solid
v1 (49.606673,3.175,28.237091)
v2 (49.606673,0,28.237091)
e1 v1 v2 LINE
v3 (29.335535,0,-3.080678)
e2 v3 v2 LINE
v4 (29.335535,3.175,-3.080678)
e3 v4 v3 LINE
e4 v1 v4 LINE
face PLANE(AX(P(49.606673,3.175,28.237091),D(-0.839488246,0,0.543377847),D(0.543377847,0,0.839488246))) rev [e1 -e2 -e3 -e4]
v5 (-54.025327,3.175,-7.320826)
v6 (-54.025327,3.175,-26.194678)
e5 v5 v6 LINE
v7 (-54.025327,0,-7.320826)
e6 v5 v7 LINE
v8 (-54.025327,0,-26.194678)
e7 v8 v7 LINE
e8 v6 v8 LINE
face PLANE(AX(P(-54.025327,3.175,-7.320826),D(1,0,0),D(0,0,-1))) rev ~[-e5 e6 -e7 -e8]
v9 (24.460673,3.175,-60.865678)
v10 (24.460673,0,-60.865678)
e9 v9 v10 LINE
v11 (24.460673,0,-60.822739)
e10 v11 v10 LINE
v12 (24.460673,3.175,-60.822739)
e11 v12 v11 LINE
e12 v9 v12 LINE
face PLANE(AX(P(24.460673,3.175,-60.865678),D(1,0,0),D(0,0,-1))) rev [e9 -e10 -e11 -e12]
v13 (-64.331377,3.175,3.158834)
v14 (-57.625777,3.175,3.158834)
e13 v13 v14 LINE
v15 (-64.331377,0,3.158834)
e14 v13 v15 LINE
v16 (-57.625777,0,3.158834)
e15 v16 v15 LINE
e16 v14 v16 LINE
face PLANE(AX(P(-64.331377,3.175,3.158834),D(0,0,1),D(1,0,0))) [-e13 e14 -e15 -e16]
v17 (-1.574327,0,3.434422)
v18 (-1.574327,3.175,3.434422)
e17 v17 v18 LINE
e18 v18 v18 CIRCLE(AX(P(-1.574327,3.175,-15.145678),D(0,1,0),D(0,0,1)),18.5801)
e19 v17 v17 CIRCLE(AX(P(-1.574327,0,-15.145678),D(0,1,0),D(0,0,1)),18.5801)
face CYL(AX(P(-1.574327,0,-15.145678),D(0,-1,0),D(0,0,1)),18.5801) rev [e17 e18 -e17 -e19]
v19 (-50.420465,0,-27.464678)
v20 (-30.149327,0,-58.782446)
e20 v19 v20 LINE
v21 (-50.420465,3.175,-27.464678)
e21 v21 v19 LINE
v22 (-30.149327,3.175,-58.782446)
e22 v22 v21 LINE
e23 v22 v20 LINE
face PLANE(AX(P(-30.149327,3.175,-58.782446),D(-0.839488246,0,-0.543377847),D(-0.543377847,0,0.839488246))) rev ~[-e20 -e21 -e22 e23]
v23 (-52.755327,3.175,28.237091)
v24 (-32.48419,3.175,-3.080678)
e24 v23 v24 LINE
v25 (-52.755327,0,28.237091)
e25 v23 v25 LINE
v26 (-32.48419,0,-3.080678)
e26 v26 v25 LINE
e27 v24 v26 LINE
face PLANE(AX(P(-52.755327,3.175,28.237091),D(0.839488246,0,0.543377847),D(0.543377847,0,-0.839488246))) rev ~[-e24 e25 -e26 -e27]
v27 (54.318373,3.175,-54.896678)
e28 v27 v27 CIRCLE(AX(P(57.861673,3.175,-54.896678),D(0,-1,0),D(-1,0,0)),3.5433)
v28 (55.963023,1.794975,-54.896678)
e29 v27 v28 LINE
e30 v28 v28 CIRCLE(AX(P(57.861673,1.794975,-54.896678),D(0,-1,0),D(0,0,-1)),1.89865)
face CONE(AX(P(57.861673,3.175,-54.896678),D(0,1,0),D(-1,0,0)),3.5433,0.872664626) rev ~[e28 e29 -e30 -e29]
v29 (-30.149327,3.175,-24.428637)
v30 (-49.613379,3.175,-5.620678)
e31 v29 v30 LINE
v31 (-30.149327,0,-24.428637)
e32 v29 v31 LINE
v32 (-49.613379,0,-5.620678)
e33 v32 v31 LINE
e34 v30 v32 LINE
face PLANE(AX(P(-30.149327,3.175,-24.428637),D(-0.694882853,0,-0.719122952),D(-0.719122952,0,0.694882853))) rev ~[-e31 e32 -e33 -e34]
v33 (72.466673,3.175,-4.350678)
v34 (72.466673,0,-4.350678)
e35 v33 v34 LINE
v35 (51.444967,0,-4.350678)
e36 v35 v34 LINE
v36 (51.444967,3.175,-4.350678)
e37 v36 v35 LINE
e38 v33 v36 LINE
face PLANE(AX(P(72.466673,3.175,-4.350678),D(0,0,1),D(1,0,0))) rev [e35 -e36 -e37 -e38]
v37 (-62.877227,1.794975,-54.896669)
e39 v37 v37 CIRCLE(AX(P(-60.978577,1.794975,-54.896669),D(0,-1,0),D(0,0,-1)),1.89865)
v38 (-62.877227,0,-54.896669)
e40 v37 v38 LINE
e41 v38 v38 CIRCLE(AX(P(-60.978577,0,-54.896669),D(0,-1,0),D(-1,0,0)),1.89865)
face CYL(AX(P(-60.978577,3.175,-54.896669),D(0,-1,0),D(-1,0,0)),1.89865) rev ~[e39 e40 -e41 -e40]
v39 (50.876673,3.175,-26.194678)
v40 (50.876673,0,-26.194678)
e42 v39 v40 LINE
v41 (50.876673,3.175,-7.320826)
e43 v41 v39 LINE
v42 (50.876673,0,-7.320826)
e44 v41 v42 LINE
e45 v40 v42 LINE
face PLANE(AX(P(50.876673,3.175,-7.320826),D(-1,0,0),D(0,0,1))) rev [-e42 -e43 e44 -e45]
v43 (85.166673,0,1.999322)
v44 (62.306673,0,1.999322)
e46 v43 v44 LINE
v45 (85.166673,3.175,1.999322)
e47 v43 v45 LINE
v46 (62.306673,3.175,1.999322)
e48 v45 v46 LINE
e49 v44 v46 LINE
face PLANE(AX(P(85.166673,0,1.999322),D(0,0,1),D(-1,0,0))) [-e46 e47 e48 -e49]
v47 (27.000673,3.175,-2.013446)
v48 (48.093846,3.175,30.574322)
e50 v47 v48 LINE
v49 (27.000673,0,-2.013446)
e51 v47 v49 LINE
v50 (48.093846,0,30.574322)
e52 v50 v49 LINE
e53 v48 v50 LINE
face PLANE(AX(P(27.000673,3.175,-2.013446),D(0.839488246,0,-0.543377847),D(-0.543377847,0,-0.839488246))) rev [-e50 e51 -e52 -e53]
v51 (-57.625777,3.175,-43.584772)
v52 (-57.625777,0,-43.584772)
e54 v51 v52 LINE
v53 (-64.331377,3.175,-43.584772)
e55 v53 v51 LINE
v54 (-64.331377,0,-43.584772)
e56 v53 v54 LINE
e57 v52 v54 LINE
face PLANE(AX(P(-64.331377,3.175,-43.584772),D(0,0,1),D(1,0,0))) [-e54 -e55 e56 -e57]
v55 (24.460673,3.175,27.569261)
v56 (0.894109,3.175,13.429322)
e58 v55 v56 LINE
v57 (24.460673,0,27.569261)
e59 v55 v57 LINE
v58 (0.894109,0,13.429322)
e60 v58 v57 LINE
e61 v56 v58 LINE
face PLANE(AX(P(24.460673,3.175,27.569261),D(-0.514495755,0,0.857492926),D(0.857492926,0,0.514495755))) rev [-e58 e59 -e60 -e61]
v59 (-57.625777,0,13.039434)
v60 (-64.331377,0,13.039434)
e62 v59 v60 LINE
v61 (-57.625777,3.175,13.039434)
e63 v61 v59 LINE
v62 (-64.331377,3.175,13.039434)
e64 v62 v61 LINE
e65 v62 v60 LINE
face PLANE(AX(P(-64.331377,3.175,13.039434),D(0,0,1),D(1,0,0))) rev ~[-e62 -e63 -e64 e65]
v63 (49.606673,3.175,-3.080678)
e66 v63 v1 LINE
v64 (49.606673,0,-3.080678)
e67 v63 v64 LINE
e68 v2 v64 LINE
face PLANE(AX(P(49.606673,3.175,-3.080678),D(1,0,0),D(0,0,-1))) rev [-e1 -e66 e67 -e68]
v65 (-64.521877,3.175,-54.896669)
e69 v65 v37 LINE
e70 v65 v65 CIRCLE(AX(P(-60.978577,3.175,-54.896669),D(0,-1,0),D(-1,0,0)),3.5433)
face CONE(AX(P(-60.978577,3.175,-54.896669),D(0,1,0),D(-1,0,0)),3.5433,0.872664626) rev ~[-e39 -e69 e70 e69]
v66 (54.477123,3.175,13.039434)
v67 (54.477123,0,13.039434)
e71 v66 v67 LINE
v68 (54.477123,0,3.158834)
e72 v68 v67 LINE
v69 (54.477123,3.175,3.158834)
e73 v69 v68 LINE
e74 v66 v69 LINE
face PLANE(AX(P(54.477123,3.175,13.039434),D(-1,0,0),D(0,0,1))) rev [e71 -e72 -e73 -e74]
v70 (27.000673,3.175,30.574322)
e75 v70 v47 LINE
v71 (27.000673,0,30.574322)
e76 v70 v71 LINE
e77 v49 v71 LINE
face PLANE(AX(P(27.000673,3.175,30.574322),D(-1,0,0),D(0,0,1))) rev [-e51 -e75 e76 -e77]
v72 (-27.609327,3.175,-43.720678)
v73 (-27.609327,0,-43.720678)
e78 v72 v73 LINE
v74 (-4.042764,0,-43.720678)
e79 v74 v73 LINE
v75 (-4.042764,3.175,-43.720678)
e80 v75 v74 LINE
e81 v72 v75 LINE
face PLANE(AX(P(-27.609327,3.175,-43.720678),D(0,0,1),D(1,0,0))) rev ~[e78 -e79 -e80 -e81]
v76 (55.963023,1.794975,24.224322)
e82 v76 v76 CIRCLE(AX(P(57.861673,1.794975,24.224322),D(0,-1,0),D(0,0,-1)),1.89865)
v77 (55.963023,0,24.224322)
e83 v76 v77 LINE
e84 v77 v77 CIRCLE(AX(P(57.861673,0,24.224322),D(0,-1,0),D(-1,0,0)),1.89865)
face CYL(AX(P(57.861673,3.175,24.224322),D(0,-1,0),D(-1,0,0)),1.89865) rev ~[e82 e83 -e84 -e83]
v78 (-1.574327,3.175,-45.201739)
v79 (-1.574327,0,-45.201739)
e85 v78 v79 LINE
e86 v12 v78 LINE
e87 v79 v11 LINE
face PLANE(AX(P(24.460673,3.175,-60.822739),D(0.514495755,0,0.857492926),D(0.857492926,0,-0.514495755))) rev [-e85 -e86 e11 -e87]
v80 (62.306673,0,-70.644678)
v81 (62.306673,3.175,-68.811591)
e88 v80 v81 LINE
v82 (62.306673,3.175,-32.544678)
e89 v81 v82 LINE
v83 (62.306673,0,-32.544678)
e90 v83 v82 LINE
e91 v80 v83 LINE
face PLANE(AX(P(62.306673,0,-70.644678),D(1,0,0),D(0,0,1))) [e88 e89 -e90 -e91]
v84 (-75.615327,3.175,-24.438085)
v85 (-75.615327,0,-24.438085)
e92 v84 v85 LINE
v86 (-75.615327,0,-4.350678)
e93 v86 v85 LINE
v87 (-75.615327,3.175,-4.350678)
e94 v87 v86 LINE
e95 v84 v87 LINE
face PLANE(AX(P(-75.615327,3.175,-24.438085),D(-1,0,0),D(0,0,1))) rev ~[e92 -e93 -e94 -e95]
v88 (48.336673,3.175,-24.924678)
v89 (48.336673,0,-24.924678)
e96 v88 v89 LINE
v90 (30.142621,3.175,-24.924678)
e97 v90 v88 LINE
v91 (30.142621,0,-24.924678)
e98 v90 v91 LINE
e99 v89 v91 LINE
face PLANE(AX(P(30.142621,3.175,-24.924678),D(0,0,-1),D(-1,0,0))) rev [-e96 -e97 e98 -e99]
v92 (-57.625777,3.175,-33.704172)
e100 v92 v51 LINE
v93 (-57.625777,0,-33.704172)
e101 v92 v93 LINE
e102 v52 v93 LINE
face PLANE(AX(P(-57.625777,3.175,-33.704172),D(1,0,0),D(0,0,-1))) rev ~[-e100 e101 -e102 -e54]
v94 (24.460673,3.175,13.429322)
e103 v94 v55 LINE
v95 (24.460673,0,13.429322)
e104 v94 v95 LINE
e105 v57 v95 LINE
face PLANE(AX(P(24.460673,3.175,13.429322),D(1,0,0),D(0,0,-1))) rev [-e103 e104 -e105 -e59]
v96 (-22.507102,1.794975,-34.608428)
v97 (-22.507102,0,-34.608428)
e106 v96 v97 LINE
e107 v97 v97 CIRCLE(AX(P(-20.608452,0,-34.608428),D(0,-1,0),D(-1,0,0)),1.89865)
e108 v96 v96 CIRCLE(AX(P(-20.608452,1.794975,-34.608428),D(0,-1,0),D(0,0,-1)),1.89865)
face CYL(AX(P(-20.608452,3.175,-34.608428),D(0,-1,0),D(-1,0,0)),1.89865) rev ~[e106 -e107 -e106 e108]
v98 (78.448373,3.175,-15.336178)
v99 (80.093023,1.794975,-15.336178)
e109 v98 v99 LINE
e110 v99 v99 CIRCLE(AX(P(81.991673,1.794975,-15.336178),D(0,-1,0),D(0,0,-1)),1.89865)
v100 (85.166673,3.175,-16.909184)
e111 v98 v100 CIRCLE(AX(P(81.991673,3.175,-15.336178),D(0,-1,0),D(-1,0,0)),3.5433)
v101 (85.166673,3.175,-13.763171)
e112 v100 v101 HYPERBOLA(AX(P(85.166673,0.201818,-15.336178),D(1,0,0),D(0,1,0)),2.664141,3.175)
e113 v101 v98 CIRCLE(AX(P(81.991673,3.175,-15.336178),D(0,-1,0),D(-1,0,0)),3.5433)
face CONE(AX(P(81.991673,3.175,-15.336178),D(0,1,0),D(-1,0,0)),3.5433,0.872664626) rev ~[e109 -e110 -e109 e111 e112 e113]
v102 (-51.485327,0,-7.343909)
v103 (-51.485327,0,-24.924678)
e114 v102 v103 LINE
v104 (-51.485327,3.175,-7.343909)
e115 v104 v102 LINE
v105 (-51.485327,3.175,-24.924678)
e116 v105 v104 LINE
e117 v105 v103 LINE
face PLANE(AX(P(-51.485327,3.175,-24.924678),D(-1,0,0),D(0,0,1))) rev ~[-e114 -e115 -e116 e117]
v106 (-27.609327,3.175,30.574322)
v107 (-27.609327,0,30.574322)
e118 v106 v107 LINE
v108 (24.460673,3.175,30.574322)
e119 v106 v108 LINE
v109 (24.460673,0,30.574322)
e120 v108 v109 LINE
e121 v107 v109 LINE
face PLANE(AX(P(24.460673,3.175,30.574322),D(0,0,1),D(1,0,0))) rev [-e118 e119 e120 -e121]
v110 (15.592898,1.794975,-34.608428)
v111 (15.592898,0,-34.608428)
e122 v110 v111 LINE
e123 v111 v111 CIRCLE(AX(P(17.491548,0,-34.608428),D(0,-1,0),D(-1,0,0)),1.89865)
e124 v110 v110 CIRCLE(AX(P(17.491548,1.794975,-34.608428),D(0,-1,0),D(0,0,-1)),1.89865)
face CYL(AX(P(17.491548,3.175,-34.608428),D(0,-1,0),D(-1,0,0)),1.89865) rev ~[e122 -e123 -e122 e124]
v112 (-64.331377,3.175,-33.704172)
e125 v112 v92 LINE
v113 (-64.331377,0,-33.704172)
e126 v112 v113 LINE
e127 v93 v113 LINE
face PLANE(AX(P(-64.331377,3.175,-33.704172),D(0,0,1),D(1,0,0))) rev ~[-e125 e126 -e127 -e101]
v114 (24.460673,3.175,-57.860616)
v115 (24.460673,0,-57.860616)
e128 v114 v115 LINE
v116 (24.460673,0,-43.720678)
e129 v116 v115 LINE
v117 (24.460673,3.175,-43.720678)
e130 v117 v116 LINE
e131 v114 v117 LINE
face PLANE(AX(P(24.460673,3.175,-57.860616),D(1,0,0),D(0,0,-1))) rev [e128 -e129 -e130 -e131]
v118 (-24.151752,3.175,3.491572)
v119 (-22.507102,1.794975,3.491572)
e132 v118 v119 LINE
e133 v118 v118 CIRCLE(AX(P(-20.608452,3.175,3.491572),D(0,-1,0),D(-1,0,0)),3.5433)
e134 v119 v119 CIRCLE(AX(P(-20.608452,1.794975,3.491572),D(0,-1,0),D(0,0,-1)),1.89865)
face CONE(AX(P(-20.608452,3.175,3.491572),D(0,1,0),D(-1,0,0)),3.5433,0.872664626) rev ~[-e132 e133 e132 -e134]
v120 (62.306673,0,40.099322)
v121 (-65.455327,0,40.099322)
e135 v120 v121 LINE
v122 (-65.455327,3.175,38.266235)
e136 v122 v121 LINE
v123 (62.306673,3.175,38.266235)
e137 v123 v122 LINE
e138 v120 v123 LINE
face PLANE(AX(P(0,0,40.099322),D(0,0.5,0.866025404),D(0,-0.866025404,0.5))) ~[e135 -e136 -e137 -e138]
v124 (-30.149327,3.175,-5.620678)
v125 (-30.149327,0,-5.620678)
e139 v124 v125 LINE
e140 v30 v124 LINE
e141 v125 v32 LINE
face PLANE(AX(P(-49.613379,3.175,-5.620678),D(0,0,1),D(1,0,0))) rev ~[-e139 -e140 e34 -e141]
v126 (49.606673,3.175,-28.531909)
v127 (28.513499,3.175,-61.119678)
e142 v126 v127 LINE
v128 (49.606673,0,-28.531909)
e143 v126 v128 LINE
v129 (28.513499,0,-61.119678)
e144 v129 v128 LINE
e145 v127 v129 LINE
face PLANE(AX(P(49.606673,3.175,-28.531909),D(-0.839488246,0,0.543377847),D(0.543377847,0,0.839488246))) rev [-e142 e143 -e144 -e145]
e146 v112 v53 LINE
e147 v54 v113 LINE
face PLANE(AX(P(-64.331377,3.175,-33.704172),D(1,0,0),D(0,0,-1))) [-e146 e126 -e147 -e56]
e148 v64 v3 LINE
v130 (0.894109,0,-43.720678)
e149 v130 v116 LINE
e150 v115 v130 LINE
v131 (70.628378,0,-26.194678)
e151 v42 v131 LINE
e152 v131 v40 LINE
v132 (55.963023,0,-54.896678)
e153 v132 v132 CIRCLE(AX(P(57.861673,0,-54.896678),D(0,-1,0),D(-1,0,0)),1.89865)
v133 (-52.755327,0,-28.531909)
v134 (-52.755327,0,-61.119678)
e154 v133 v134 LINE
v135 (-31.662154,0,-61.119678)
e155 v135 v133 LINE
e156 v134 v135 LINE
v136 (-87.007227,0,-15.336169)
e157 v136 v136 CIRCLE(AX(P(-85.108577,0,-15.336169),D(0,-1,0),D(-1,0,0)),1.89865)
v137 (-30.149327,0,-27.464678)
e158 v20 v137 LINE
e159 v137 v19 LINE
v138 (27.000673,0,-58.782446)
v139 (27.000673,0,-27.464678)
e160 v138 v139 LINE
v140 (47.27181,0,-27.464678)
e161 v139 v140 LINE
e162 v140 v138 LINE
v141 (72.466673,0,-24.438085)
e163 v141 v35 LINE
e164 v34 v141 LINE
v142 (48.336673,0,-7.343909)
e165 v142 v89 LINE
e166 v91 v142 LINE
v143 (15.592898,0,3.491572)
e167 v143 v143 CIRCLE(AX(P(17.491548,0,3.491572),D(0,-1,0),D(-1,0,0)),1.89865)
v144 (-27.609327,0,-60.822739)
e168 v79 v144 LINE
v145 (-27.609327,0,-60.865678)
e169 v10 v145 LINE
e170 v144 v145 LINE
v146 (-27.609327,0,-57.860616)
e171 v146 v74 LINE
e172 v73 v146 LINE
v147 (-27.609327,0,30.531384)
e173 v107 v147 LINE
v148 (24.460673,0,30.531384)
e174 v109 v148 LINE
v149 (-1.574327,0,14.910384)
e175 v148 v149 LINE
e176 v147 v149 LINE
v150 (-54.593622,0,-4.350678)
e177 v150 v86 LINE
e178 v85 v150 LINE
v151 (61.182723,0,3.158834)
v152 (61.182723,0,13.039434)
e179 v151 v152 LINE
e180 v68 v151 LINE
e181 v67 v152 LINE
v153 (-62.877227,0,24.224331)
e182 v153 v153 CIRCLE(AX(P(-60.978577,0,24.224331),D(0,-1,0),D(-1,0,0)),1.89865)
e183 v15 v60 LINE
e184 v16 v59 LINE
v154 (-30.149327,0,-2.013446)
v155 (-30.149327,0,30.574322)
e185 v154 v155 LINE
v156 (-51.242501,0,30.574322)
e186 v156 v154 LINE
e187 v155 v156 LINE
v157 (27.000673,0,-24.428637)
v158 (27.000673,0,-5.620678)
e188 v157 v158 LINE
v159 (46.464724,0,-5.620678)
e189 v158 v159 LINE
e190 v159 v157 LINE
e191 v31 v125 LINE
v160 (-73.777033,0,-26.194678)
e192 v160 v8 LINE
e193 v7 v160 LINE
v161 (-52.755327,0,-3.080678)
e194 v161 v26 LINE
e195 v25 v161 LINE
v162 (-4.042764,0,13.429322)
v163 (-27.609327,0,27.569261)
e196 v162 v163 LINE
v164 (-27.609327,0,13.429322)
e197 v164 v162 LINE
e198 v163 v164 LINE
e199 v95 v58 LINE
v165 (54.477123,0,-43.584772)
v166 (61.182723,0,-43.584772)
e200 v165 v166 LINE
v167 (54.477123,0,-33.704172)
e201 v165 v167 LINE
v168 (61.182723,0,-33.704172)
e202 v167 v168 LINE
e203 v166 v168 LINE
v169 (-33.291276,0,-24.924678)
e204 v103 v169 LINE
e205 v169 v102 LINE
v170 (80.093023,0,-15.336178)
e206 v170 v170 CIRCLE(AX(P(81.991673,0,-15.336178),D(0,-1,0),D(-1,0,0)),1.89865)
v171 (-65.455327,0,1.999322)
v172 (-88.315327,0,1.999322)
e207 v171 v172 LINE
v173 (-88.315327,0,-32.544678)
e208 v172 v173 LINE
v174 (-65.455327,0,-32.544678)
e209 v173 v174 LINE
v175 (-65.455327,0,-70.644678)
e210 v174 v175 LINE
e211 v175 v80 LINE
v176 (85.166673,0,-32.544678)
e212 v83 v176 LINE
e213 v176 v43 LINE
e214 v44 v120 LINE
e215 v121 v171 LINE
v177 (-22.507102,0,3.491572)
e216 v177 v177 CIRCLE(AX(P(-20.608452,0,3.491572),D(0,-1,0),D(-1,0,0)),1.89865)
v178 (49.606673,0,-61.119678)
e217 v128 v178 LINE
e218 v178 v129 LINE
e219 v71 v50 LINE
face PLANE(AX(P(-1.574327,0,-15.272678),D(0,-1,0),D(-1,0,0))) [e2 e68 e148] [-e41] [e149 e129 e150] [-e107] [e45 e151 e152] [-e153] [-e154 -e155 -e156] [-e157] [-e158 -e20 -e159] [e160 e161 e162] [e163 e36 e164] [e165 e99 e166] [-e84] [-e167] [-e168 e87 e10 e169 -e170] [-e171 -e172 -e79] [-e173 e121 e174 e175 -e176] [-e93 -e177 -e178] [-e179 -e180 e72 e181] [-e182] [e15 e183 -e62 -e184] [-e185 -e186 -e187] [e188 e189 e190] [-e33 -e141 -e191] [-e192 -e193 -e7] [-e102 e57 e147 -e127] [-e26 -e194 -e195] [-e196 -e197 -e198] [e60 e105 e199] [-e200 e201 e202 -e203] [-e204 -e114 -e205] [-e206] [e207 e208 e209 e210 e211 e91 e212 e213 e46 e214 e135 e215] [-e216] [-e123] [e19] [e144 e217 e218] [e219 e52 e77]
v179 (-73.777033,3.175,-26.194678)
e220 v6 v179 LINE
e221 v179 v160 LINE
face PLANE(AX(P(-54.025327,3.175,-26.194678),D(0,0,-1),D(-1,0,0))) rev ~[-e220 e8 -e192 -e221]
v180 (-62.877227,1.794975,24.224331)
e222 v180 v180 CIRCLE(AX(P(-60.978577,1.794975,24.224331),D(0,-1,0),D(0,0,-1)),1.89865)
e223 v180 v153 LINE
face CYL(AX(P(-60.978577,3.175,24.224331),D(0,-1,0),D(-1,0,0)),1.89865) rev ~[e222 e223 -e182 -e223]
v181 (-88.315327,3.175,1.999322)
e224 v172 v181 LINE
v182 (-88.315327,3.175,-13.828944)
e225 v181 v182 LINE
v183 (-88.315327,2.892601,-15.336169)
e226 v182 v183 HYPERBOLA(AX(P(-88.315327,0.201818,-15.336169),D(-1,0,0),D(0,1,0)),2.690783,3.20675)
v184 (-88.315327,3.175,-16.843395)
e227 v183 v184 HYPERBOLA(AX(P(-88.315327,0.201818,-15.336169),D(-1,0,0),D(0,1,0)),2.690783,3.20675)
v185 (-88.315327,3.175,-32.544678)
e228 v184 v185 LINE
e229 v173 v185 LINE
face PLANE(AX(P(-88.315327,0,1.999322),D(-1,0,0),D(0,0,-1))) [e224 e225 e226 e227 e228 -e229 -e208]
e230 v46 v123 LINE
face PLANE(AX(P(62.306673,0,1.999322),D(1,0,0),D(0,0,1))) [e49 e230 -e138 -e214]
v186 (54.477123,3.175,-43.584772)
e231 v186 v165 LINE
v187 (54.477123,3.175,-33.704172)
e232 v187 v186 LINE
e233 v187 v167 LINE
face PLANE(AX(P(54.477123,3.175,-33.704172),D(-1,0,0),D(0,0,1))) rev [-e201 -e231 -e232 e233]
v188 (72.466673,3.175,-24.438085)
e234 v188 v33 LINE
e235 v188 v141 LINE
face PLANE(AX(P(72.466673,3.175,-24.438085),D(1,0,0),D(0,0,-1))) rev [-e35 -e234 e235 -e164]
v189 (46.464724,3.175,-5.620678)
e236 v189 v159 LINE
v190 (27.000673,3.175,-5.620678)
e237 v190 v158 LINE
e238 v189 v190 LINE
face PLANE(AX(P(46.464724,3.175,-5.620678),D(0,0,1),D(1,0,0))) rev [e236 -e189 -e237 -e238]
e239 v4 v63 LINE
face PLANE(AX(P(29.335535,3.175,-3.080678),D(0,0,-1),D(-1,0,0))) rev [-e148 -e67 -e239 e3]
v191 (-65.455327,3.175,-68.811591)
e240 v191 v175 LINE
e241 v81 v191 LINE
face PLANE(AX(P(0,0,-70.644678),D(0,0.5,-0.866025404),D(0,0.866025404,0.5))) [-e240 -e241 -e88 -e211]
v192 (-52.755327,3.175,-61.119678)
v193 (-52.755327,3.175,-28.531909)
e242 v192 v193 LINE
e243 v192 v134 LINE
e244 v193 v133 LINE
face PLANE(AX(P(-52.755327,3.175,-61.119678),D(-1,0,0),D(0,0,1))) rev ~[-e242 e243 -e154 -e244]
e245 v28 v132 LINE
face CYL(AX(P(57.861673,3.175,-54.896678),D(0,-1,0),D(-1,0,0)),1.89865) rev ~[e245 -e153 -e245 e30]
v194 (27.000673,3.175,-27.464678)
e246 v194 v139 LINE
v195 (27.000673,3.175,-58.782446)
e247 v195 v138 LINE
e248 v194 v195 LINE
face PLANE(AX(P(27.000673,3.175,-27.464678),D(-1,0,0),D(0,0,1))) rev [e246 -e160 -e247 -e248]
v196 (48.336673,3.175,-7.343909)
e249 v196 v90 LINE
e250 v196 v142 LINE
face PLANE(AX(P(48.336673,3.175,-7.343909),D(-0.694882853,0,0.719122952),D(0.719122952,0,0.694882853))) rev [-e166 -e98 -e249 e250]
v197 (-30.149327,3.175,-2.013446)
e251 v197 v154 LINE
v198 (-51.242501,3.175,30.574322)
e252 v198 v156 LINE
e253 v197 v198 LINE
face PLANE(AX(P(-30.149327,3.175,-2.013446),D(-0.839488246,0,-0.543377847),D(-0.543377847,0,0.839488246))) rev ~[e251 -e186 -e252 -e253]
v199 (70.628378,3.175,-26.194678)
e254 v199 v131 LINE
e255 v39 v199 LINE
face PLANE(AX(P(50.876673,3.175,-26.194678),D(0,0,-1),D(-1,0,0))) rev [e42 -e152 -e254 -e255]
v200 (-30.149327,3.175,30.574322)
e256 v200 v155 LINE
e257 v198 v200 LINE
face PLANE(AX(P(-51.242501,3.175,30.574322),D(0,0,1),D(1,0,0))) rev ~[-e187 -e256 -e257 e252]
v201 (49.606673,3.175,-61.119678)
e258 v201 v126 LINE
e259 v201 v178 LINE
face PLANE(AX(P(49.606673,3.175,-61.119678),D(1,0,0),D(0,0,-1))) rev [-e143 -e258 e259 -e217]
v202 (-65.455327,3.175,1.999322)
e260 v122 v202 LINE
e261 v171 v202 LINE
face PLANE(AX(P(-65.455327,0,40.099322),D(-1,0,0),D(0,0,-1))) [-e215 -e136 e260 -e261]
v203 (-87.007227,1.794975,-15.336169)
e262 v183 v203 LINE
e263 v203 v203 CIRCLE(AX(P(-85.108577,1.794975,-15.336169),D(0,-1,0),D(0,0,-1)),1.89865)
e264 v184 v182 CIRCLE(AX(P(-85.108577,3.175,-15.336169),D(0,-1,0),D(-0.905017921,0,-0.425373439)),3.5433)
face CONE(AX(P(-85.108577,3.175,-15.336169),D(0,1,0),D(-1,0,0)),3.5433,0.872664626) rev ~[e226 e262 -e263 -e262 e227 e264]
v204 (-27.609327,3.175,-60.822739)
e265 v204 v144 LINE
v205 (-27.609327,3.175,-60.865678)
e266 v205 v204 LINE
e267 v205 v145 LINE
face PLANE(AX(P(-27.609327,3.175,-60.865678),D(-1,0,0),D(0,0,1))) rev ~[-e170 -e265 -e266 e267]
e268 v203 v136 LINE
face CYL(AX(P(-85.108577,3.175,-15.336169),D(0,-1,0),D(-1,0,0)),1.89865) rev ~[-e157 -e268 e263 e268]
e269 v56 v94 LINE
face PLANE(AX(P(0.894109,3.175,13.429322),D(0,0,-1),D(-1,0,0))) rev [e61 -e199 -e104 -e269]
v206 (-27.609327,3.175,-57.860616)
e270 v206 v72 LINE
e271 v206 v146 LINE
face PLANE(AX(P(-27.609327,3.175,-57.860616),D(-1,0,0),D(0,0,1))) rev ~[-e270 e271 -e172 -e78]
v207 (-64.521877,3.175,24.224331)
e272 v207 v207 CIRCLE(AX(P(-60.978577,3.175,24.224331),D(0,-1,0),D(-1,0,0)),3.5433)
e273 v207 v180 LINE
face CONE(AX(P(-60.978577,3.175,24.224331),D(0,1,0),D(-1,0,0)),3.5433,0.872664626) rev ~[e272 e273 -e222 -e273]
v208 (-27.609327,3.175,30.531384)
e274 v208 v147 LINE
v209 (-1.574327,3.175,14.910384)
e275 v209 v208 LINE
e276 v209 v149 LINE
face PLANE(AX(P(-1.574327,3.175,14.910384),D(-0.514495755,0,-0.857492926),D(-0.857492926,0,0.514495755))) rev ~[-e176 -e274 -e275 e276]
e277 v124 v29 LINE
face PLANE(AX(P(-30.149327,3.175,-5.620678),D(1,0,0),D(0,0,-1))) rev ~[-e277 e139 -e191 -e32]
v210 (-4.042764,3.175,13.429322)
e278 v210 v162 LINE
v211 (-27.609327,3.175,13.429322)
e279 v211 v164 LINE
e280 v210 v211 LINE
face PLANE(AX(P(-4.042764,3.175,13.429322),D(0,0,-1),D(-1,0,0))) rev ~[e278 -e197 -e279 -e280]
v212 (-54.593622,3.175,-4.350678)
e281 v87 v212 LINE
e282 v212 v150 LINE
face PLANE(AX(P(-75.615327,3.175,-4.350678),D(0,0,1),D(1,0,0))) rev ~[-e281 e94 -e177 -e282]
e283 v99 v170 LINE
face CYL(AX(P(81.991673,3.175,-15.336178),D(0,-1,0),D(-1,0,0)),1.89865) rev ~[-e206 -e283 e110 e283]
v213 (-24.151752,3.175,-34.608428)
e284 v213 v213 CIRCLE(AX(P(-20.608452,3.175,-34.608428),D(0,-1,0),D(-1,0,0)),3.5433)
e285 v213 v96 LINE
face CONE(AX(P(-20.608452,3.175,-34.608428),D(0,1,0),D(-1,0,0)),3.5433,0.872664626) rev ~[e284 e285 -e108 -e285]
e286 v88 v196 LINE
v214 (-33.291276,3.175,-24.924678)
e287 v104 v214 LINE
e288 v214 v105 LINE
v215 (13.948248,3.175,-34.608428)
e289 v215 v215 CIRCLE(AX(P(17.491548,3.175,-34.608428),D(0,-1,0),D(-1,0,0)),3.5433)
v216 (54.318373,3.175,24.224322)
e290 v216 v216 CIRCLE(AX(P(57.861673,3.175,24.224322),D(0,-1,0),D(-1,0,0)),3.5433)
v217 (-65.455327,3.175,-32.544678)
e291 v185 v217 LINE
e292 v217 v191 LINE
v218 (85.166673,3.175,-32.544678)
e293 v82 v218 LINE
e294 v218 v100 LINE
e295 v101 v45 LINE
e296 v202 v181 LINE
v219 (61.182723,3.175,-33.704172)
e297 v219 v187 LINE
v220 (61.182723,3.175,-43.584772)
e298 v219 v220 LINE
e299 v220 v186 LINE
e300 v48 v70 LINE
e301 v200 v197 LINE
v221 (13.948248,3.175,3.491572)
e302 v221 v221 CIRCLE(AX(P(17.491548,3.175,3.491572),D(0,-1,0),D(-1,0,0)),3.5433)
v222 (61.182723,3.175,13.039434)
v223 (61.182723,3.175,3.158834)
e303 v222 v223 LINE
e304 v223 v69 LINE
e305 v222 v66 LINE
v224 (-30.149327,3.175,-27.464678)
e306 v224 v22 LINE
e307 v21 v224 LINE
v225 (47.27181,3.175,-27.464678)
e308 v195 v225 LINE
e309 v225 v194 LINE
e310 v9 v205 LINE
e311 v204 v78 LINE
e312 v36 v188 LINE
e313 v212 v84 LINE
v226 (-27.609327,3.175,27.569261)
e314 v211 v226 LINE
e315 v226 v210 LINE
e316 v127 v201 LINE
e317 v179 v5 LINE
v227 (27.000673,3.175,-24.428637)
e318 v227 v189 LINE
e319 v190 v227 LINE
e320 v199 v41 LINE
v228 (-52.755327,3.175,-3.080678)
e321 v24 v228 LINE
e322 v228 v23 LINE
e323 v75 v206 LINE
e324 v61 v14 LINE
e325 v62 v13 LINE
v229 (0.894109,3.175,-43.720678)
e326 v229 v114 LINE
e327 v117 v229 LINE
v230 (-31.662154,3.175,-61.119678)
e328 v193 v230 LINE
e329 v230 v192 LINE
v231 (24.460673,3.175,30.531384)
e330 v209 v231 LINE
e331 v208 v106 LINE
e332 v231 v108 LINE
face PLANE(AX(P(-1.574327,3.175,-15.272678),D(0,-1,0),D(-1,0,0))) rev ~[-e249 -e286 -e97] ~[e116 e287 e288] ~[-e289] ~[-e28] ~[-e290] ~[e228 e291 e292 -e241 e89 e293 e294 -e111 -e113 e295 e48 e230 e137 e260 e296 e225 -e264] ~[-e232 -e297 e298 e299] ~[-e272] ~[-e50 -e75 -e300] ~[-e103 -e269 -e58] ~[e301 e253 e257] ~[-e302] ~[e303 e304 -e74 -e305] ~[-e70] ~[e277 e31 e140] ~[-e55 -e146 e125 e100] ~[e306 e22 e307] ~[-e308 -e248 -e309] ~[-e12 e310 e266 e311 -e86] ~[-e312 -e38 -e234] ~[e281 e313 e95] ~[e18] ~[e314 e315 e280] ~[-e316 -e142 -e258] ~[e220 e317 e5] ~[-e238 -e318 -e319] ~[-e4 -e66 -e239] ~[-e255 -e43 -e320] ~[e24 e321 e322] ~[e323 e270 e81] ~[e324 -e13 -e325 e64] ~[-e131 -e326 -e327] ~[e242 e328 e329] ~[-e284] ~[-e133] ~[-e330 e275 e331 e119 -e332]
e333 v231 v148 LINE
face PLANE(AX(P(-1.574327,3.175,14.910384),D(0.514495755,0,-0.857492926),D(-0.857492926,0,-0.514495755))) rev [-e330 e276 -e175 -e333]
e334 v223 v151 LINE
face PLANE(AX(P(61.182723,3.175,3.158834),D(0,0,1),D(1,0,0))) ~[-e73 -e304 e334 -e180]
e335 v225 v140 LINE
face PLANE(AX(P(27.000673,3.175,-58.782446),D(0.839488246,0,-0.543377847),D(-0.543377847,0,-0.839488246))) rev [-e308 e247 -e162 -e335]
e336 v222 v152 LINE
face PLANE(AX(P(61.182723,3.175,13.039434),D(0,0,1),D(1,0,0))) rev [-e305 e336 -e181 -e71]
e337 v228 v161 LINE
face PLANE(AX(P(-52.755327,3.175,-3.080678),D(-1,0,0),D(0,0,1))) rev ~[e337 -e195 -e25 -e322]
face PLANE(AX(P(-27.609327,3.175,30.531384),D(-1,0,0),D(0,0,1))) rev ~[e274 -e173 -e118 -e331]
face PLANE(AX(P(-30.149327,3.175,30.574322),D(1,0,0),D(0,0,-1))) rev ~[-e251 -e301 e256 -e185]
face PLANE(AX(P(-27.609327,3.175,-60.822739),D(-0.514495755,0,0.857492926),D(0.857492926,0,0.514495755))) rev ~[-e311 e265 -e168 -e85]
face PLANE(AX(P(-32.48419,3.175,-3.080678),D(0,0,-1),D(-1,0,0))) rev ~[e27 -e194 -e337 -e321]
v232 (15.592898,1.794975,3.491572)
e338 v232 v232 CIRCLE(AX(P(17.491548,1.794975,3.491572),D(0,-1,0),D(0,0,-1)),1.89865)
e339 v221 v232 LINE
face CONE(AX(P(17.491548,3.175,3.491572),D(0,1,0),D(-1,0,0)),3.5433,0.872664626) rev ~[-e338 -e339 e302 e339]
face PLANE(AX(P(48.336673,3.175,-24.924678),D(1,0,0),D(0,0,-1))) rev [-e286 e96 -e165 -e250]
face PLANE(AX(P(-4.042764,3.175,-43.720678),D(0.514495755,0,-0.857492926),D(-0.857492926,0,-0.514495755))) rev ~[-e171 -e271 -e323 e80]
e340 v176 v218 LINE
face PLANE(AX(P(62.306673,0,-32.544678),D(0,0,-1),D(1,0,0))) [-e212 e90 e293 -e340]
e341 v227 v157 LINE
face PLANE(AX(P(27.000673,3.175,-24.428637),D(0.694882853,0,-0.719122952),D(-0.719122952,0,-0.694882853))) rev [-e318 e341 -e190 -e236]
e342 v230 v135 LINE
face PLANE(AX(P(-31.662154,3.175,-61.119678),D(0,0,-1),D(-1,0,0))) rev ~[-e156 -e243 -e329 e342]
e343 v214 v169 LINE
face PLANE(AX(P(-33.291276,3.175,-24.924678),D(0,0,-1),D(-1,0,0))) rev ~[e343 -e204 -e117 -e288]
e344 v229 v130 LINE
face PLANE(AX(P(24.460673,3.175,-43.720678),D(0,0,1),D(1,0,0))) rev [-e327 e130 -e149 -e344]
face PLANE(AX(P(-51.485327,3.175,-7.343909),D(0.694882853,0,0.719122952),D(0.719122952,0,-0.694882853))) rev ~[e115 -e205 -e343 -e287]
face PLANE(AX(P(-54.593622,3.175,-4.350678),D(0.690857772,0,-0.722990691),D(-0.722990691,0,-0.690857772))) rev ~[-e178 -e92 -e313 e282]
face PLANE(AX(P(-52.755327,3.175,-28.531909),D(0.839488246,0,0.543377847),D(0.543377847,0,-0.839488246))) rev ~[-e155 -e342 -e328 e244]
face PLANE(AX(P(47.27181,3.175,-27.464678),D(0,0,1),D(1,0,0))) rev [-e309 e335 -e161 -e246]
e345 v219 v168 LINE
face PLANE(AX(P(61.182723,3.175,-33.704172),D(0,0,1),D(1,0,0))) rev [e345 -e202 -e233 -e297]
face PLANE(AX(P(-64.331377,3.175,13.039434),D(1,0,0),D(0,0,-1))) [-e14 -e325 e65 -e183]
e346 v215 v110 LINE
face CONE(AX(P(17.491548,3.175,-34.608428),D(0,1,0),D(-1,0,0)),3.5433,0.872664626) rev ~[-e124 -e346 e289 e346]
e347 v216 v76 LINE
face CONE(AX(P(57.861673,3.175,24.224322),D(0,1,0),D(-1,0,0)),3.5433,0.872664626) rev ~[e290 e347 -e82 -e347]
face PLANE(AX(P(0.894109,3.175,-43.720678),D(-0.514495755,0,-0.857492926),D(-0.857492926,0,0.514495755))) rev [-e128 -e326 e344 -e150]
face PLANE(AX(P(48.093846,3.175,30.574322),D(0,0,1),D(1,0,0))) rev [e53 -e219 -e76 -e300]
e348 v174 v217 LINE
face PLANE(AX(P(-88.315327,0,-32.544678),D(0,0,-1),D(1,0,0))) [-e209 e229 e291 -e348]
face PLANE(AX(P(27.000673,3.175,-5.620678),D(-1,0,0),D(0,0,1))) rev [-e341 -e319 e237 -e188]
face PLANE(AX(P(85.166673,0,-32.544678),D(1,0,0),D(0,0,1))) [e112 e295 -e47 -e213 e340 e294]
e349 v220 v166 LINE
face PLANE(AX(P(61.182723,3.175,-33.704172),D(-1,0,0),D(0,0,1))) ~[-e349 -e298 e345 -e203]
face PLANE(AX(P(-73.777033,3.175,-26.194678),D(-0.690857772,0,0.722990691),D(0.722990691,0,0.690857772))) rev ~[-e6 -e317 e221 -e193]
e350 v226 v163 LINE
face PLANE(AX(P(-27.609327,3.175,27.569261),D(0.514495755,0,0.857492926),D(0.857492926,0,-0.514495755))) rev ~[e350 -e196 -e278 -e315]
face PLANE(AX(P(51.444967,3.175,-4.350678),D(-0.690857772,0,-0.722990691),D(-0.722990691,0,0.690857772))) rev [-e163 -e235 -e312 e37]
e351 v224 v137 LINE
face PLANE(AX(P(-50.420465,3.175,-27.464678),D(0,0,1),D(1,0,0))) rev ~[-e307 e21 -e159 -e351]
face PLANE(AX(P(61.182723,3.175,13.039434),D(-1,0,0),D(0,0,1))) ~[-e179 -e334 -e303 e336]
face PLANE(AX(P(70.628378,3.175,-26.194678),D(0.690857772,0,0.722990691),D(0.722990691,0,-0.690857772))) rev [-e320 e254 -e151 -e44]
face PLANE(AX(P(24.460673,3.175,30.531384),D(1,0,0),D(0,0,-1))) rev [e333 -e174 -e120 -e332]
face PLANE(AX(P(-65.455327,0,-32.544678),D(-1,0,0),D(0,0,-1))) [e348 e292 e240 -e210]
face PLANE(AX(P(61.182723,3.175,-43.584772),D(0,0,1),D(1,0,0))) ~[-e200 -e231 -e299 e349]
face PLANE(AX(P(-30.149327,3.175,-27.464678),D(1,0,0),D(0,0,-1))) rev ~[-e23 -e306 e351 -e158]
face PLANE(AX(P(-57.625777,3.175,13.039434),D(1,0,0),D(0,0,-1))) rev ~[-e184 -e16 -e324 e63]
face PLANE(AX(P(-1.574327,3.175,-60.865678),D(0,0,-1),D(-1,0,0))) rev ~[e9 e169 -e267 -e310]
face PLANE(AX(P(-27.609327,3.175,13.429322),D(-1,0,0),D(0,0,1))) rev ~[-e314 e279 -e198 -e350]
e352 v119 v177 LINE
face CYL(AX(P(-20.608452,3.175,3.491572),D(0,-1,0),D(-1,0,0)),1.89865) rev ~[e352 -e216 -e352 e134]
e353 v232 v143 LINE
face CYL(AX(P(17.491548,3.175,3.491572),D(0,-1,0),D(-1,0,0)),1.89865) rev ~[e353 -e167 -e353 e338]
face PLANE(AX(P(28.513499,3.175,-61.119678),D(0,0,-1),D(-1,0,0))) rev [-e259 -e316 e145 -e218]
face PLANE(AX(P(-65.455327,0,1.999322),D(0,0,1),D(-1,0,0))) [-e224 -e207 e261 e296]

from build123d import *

# Parameters (mm, degrees)
SKETCH1_R                                         = 18.5801
BOSS_EXTRUDE1_DEPTH                               = 3.175
CSK_FOR_6_FLAT_HEAD_MACHINE_SCREW_100_D           = 3.7973
CSK_FOR_6_FLAT_HEAD_MACHINE_SCREW_100_CSINK_D     = 7.0866
CSK_FOR_6_FLAT_HEAD_MACHINE_SCREW_100_CSINK_ANGLE = 100
CUT_EXTRUDE2_DEPTH                                = 114.138623562
SKETCH7_W                                         = 6.7056
SKETCH7_H                                         = 9.8806
CUT_EXTRUDE5_DEPTH                                = 114.138623562


with BuildPart() as part:
    # Sketch1 → Boss-Extrude1 (new body)
    with BuildSketch(Plane(origin=(0, 0, 0), x_dir=(1, 0, 0), z_dir=(0, 1, 0))):
        Polygon((-65.455327335, 70.644677608), (62.306672665, 70.644677608), (62.306672665, 32.544677608), (85.166672665, 32.544677608), (85.166672665, -1.999322392), (62.306672665, -1.999322392), (62.306672665, -40.099322392), (-65.455327335, -40.099322392), (-65.455327335, -1.999322392), (-88.315327335, -1.999322392), (-88.315327335, 32.544677608), (-65.455327335, 32.544677608), align=None)
        with Locations(Location((-1.574327335, 15.145677608, 0), (0, 0, 270))):
            Circle(SKETCH1_R, mode=Mode.SUBTRACT)
    extrude(amount=BOSS_EXTRUDE1_DEPTH)

    # CSK for #6 Flat Head Machine Screw (100)1 (through all)
    with Locations(Plane(origin=(0, 3.175, 0), x_dir=(1, 0, 0), z_dir=(0, 1, 0))):
        with Locations((-60.978577335, 54.896669208), (-85.108577335, 15.336169208), (-60.978577335, -24.224330792), (57.861672665, -24.224322392), (81.991672665, 15.336177608), (57.861672665, 54.896677608), (-20.608452335, 34.608427608), (-20.608452335, -3.491572392), (17.491547665, -3.491572392), (17.491547665, 34.608427608)):
            CounterSinkHole(CSK_FOR_6_FLAT_HEAD_MACHINE_SCREW_100_D / 2, CSK_FOR_6_FLAT_HEAD_MACHINE_SCREW_100_CSINK_D / 2, counter_sink_angle=CSK_FOR_6_FLAT_HEAD_MACHINE_SCREW_100_CSINK_ANGLE)

    # Sketch4 → Cut-Extrude2 (cut, symmetric)
    with BuildSketch(Plane(origin=(0, 0, 0), x_dir=(0, 0, -1), z_dir=(1, 0, 0))):
        Polygon((70.644677608, 0), (68.811590503, 3.175), (70.644677608, 3.175), align=None)
    cut_extrude2 = extrude(amount=CUT_EXTRUDE2_DEPTH, both=True, mode=Mode.SUBTRACT)

    # Mirror1: Cut-Extrude2 across plane
    add(cut_extrude2.mirror(Plane.XY.offset(-15.272677608)), mode=Mode.SUBTRACT)

    # Sketch7 → Cut-Extrude5 (cut, through all)
    with BuildSketch(Plane(origin=(0, 3.175, 0), x_dir=(1, 0, 0), z_dir=(0, 1, 0))):
        Polygon((-31.662153757, 61.119677608), (-52.755327335, 61.119677608), (-52.755327335, 28.53190944), align=None)
        Polygon((-30.149327335, 58.782445776), (-50.420464549, 27.464677608), (-30.149327335, 27.464677608), align=None)
        Polygon((-54.025327335, 7.320825628), (-54.025327335, 26.194677608), (-73.777032895, 26.194677608), align=None)
        Polygon((-27.609327335, 60.865677608), (-27.609327335, 60.822739389), (-1.574327335, 45.201739389), (-1.574327335, 60.865677608), align=None)
        Polygon((-30.149327335, 5.620677608), (-30.149327335, 24.428637467), (-49.613378817, 5.620677608), align=None)
        Polygon((-33.291275852, 24.924677608), (-51.485327335, 24.924677608), (-51.485327335, 7.34390876), align=None)
        Polygon((-27.609327335, 57.860615827), (-27.609327335, 43.720677608), (-4.042763637, 43.720677608), align=None)
        Polygon((-54.593621774, 4.350677608), (-75.615327335, 24.438085143), (-75.615327335, 4.350677608), align=None)
        Polygon((-32.48419012, 3.080677608), (-52.755327335, 3.080677608), (-52.755327335, -28.23709056), align=None)
        Polygon((-30.149327335, -30.574322392), (-30.149327335, 2.013445776), (-51.242500913, -30.574322392), align=None)
        Polygon((-4.042763637, -13.429322392), (-27.609327335, -13.429322392), (-27.609327335, -27.569260611), align=None)
        Polygon((-27.609327335, -30.531384173), (-27.609327335, -30.574322392), (-1.574327335, -30.574322392), (-1.574327335, -14.910384173), align=None)
        with Locations((-60.978577335, -8.099133955)):
            Rectangle(SKETCH7_W, SKETCH7_H)
        with Locations((-60.978577335, 38.644472371)):
            Rectangle(SKETCH7_W, SKETCH7_H)
    cut_extrude5 = extrude(amount=-CUT_EXTRUDE5_DEPTH, mode=Mode.SUBTRACT)

    # Mirror3: Cut-Extrude5 across plane
    add(cut_extrude5.mirror(Plane(origin=(-1.574327335, 0, 0), x_dir=(0, 0, 1), z_dir=(1, 0, 0))), mode=Mode.SUBTRACT)


solid = part.part
